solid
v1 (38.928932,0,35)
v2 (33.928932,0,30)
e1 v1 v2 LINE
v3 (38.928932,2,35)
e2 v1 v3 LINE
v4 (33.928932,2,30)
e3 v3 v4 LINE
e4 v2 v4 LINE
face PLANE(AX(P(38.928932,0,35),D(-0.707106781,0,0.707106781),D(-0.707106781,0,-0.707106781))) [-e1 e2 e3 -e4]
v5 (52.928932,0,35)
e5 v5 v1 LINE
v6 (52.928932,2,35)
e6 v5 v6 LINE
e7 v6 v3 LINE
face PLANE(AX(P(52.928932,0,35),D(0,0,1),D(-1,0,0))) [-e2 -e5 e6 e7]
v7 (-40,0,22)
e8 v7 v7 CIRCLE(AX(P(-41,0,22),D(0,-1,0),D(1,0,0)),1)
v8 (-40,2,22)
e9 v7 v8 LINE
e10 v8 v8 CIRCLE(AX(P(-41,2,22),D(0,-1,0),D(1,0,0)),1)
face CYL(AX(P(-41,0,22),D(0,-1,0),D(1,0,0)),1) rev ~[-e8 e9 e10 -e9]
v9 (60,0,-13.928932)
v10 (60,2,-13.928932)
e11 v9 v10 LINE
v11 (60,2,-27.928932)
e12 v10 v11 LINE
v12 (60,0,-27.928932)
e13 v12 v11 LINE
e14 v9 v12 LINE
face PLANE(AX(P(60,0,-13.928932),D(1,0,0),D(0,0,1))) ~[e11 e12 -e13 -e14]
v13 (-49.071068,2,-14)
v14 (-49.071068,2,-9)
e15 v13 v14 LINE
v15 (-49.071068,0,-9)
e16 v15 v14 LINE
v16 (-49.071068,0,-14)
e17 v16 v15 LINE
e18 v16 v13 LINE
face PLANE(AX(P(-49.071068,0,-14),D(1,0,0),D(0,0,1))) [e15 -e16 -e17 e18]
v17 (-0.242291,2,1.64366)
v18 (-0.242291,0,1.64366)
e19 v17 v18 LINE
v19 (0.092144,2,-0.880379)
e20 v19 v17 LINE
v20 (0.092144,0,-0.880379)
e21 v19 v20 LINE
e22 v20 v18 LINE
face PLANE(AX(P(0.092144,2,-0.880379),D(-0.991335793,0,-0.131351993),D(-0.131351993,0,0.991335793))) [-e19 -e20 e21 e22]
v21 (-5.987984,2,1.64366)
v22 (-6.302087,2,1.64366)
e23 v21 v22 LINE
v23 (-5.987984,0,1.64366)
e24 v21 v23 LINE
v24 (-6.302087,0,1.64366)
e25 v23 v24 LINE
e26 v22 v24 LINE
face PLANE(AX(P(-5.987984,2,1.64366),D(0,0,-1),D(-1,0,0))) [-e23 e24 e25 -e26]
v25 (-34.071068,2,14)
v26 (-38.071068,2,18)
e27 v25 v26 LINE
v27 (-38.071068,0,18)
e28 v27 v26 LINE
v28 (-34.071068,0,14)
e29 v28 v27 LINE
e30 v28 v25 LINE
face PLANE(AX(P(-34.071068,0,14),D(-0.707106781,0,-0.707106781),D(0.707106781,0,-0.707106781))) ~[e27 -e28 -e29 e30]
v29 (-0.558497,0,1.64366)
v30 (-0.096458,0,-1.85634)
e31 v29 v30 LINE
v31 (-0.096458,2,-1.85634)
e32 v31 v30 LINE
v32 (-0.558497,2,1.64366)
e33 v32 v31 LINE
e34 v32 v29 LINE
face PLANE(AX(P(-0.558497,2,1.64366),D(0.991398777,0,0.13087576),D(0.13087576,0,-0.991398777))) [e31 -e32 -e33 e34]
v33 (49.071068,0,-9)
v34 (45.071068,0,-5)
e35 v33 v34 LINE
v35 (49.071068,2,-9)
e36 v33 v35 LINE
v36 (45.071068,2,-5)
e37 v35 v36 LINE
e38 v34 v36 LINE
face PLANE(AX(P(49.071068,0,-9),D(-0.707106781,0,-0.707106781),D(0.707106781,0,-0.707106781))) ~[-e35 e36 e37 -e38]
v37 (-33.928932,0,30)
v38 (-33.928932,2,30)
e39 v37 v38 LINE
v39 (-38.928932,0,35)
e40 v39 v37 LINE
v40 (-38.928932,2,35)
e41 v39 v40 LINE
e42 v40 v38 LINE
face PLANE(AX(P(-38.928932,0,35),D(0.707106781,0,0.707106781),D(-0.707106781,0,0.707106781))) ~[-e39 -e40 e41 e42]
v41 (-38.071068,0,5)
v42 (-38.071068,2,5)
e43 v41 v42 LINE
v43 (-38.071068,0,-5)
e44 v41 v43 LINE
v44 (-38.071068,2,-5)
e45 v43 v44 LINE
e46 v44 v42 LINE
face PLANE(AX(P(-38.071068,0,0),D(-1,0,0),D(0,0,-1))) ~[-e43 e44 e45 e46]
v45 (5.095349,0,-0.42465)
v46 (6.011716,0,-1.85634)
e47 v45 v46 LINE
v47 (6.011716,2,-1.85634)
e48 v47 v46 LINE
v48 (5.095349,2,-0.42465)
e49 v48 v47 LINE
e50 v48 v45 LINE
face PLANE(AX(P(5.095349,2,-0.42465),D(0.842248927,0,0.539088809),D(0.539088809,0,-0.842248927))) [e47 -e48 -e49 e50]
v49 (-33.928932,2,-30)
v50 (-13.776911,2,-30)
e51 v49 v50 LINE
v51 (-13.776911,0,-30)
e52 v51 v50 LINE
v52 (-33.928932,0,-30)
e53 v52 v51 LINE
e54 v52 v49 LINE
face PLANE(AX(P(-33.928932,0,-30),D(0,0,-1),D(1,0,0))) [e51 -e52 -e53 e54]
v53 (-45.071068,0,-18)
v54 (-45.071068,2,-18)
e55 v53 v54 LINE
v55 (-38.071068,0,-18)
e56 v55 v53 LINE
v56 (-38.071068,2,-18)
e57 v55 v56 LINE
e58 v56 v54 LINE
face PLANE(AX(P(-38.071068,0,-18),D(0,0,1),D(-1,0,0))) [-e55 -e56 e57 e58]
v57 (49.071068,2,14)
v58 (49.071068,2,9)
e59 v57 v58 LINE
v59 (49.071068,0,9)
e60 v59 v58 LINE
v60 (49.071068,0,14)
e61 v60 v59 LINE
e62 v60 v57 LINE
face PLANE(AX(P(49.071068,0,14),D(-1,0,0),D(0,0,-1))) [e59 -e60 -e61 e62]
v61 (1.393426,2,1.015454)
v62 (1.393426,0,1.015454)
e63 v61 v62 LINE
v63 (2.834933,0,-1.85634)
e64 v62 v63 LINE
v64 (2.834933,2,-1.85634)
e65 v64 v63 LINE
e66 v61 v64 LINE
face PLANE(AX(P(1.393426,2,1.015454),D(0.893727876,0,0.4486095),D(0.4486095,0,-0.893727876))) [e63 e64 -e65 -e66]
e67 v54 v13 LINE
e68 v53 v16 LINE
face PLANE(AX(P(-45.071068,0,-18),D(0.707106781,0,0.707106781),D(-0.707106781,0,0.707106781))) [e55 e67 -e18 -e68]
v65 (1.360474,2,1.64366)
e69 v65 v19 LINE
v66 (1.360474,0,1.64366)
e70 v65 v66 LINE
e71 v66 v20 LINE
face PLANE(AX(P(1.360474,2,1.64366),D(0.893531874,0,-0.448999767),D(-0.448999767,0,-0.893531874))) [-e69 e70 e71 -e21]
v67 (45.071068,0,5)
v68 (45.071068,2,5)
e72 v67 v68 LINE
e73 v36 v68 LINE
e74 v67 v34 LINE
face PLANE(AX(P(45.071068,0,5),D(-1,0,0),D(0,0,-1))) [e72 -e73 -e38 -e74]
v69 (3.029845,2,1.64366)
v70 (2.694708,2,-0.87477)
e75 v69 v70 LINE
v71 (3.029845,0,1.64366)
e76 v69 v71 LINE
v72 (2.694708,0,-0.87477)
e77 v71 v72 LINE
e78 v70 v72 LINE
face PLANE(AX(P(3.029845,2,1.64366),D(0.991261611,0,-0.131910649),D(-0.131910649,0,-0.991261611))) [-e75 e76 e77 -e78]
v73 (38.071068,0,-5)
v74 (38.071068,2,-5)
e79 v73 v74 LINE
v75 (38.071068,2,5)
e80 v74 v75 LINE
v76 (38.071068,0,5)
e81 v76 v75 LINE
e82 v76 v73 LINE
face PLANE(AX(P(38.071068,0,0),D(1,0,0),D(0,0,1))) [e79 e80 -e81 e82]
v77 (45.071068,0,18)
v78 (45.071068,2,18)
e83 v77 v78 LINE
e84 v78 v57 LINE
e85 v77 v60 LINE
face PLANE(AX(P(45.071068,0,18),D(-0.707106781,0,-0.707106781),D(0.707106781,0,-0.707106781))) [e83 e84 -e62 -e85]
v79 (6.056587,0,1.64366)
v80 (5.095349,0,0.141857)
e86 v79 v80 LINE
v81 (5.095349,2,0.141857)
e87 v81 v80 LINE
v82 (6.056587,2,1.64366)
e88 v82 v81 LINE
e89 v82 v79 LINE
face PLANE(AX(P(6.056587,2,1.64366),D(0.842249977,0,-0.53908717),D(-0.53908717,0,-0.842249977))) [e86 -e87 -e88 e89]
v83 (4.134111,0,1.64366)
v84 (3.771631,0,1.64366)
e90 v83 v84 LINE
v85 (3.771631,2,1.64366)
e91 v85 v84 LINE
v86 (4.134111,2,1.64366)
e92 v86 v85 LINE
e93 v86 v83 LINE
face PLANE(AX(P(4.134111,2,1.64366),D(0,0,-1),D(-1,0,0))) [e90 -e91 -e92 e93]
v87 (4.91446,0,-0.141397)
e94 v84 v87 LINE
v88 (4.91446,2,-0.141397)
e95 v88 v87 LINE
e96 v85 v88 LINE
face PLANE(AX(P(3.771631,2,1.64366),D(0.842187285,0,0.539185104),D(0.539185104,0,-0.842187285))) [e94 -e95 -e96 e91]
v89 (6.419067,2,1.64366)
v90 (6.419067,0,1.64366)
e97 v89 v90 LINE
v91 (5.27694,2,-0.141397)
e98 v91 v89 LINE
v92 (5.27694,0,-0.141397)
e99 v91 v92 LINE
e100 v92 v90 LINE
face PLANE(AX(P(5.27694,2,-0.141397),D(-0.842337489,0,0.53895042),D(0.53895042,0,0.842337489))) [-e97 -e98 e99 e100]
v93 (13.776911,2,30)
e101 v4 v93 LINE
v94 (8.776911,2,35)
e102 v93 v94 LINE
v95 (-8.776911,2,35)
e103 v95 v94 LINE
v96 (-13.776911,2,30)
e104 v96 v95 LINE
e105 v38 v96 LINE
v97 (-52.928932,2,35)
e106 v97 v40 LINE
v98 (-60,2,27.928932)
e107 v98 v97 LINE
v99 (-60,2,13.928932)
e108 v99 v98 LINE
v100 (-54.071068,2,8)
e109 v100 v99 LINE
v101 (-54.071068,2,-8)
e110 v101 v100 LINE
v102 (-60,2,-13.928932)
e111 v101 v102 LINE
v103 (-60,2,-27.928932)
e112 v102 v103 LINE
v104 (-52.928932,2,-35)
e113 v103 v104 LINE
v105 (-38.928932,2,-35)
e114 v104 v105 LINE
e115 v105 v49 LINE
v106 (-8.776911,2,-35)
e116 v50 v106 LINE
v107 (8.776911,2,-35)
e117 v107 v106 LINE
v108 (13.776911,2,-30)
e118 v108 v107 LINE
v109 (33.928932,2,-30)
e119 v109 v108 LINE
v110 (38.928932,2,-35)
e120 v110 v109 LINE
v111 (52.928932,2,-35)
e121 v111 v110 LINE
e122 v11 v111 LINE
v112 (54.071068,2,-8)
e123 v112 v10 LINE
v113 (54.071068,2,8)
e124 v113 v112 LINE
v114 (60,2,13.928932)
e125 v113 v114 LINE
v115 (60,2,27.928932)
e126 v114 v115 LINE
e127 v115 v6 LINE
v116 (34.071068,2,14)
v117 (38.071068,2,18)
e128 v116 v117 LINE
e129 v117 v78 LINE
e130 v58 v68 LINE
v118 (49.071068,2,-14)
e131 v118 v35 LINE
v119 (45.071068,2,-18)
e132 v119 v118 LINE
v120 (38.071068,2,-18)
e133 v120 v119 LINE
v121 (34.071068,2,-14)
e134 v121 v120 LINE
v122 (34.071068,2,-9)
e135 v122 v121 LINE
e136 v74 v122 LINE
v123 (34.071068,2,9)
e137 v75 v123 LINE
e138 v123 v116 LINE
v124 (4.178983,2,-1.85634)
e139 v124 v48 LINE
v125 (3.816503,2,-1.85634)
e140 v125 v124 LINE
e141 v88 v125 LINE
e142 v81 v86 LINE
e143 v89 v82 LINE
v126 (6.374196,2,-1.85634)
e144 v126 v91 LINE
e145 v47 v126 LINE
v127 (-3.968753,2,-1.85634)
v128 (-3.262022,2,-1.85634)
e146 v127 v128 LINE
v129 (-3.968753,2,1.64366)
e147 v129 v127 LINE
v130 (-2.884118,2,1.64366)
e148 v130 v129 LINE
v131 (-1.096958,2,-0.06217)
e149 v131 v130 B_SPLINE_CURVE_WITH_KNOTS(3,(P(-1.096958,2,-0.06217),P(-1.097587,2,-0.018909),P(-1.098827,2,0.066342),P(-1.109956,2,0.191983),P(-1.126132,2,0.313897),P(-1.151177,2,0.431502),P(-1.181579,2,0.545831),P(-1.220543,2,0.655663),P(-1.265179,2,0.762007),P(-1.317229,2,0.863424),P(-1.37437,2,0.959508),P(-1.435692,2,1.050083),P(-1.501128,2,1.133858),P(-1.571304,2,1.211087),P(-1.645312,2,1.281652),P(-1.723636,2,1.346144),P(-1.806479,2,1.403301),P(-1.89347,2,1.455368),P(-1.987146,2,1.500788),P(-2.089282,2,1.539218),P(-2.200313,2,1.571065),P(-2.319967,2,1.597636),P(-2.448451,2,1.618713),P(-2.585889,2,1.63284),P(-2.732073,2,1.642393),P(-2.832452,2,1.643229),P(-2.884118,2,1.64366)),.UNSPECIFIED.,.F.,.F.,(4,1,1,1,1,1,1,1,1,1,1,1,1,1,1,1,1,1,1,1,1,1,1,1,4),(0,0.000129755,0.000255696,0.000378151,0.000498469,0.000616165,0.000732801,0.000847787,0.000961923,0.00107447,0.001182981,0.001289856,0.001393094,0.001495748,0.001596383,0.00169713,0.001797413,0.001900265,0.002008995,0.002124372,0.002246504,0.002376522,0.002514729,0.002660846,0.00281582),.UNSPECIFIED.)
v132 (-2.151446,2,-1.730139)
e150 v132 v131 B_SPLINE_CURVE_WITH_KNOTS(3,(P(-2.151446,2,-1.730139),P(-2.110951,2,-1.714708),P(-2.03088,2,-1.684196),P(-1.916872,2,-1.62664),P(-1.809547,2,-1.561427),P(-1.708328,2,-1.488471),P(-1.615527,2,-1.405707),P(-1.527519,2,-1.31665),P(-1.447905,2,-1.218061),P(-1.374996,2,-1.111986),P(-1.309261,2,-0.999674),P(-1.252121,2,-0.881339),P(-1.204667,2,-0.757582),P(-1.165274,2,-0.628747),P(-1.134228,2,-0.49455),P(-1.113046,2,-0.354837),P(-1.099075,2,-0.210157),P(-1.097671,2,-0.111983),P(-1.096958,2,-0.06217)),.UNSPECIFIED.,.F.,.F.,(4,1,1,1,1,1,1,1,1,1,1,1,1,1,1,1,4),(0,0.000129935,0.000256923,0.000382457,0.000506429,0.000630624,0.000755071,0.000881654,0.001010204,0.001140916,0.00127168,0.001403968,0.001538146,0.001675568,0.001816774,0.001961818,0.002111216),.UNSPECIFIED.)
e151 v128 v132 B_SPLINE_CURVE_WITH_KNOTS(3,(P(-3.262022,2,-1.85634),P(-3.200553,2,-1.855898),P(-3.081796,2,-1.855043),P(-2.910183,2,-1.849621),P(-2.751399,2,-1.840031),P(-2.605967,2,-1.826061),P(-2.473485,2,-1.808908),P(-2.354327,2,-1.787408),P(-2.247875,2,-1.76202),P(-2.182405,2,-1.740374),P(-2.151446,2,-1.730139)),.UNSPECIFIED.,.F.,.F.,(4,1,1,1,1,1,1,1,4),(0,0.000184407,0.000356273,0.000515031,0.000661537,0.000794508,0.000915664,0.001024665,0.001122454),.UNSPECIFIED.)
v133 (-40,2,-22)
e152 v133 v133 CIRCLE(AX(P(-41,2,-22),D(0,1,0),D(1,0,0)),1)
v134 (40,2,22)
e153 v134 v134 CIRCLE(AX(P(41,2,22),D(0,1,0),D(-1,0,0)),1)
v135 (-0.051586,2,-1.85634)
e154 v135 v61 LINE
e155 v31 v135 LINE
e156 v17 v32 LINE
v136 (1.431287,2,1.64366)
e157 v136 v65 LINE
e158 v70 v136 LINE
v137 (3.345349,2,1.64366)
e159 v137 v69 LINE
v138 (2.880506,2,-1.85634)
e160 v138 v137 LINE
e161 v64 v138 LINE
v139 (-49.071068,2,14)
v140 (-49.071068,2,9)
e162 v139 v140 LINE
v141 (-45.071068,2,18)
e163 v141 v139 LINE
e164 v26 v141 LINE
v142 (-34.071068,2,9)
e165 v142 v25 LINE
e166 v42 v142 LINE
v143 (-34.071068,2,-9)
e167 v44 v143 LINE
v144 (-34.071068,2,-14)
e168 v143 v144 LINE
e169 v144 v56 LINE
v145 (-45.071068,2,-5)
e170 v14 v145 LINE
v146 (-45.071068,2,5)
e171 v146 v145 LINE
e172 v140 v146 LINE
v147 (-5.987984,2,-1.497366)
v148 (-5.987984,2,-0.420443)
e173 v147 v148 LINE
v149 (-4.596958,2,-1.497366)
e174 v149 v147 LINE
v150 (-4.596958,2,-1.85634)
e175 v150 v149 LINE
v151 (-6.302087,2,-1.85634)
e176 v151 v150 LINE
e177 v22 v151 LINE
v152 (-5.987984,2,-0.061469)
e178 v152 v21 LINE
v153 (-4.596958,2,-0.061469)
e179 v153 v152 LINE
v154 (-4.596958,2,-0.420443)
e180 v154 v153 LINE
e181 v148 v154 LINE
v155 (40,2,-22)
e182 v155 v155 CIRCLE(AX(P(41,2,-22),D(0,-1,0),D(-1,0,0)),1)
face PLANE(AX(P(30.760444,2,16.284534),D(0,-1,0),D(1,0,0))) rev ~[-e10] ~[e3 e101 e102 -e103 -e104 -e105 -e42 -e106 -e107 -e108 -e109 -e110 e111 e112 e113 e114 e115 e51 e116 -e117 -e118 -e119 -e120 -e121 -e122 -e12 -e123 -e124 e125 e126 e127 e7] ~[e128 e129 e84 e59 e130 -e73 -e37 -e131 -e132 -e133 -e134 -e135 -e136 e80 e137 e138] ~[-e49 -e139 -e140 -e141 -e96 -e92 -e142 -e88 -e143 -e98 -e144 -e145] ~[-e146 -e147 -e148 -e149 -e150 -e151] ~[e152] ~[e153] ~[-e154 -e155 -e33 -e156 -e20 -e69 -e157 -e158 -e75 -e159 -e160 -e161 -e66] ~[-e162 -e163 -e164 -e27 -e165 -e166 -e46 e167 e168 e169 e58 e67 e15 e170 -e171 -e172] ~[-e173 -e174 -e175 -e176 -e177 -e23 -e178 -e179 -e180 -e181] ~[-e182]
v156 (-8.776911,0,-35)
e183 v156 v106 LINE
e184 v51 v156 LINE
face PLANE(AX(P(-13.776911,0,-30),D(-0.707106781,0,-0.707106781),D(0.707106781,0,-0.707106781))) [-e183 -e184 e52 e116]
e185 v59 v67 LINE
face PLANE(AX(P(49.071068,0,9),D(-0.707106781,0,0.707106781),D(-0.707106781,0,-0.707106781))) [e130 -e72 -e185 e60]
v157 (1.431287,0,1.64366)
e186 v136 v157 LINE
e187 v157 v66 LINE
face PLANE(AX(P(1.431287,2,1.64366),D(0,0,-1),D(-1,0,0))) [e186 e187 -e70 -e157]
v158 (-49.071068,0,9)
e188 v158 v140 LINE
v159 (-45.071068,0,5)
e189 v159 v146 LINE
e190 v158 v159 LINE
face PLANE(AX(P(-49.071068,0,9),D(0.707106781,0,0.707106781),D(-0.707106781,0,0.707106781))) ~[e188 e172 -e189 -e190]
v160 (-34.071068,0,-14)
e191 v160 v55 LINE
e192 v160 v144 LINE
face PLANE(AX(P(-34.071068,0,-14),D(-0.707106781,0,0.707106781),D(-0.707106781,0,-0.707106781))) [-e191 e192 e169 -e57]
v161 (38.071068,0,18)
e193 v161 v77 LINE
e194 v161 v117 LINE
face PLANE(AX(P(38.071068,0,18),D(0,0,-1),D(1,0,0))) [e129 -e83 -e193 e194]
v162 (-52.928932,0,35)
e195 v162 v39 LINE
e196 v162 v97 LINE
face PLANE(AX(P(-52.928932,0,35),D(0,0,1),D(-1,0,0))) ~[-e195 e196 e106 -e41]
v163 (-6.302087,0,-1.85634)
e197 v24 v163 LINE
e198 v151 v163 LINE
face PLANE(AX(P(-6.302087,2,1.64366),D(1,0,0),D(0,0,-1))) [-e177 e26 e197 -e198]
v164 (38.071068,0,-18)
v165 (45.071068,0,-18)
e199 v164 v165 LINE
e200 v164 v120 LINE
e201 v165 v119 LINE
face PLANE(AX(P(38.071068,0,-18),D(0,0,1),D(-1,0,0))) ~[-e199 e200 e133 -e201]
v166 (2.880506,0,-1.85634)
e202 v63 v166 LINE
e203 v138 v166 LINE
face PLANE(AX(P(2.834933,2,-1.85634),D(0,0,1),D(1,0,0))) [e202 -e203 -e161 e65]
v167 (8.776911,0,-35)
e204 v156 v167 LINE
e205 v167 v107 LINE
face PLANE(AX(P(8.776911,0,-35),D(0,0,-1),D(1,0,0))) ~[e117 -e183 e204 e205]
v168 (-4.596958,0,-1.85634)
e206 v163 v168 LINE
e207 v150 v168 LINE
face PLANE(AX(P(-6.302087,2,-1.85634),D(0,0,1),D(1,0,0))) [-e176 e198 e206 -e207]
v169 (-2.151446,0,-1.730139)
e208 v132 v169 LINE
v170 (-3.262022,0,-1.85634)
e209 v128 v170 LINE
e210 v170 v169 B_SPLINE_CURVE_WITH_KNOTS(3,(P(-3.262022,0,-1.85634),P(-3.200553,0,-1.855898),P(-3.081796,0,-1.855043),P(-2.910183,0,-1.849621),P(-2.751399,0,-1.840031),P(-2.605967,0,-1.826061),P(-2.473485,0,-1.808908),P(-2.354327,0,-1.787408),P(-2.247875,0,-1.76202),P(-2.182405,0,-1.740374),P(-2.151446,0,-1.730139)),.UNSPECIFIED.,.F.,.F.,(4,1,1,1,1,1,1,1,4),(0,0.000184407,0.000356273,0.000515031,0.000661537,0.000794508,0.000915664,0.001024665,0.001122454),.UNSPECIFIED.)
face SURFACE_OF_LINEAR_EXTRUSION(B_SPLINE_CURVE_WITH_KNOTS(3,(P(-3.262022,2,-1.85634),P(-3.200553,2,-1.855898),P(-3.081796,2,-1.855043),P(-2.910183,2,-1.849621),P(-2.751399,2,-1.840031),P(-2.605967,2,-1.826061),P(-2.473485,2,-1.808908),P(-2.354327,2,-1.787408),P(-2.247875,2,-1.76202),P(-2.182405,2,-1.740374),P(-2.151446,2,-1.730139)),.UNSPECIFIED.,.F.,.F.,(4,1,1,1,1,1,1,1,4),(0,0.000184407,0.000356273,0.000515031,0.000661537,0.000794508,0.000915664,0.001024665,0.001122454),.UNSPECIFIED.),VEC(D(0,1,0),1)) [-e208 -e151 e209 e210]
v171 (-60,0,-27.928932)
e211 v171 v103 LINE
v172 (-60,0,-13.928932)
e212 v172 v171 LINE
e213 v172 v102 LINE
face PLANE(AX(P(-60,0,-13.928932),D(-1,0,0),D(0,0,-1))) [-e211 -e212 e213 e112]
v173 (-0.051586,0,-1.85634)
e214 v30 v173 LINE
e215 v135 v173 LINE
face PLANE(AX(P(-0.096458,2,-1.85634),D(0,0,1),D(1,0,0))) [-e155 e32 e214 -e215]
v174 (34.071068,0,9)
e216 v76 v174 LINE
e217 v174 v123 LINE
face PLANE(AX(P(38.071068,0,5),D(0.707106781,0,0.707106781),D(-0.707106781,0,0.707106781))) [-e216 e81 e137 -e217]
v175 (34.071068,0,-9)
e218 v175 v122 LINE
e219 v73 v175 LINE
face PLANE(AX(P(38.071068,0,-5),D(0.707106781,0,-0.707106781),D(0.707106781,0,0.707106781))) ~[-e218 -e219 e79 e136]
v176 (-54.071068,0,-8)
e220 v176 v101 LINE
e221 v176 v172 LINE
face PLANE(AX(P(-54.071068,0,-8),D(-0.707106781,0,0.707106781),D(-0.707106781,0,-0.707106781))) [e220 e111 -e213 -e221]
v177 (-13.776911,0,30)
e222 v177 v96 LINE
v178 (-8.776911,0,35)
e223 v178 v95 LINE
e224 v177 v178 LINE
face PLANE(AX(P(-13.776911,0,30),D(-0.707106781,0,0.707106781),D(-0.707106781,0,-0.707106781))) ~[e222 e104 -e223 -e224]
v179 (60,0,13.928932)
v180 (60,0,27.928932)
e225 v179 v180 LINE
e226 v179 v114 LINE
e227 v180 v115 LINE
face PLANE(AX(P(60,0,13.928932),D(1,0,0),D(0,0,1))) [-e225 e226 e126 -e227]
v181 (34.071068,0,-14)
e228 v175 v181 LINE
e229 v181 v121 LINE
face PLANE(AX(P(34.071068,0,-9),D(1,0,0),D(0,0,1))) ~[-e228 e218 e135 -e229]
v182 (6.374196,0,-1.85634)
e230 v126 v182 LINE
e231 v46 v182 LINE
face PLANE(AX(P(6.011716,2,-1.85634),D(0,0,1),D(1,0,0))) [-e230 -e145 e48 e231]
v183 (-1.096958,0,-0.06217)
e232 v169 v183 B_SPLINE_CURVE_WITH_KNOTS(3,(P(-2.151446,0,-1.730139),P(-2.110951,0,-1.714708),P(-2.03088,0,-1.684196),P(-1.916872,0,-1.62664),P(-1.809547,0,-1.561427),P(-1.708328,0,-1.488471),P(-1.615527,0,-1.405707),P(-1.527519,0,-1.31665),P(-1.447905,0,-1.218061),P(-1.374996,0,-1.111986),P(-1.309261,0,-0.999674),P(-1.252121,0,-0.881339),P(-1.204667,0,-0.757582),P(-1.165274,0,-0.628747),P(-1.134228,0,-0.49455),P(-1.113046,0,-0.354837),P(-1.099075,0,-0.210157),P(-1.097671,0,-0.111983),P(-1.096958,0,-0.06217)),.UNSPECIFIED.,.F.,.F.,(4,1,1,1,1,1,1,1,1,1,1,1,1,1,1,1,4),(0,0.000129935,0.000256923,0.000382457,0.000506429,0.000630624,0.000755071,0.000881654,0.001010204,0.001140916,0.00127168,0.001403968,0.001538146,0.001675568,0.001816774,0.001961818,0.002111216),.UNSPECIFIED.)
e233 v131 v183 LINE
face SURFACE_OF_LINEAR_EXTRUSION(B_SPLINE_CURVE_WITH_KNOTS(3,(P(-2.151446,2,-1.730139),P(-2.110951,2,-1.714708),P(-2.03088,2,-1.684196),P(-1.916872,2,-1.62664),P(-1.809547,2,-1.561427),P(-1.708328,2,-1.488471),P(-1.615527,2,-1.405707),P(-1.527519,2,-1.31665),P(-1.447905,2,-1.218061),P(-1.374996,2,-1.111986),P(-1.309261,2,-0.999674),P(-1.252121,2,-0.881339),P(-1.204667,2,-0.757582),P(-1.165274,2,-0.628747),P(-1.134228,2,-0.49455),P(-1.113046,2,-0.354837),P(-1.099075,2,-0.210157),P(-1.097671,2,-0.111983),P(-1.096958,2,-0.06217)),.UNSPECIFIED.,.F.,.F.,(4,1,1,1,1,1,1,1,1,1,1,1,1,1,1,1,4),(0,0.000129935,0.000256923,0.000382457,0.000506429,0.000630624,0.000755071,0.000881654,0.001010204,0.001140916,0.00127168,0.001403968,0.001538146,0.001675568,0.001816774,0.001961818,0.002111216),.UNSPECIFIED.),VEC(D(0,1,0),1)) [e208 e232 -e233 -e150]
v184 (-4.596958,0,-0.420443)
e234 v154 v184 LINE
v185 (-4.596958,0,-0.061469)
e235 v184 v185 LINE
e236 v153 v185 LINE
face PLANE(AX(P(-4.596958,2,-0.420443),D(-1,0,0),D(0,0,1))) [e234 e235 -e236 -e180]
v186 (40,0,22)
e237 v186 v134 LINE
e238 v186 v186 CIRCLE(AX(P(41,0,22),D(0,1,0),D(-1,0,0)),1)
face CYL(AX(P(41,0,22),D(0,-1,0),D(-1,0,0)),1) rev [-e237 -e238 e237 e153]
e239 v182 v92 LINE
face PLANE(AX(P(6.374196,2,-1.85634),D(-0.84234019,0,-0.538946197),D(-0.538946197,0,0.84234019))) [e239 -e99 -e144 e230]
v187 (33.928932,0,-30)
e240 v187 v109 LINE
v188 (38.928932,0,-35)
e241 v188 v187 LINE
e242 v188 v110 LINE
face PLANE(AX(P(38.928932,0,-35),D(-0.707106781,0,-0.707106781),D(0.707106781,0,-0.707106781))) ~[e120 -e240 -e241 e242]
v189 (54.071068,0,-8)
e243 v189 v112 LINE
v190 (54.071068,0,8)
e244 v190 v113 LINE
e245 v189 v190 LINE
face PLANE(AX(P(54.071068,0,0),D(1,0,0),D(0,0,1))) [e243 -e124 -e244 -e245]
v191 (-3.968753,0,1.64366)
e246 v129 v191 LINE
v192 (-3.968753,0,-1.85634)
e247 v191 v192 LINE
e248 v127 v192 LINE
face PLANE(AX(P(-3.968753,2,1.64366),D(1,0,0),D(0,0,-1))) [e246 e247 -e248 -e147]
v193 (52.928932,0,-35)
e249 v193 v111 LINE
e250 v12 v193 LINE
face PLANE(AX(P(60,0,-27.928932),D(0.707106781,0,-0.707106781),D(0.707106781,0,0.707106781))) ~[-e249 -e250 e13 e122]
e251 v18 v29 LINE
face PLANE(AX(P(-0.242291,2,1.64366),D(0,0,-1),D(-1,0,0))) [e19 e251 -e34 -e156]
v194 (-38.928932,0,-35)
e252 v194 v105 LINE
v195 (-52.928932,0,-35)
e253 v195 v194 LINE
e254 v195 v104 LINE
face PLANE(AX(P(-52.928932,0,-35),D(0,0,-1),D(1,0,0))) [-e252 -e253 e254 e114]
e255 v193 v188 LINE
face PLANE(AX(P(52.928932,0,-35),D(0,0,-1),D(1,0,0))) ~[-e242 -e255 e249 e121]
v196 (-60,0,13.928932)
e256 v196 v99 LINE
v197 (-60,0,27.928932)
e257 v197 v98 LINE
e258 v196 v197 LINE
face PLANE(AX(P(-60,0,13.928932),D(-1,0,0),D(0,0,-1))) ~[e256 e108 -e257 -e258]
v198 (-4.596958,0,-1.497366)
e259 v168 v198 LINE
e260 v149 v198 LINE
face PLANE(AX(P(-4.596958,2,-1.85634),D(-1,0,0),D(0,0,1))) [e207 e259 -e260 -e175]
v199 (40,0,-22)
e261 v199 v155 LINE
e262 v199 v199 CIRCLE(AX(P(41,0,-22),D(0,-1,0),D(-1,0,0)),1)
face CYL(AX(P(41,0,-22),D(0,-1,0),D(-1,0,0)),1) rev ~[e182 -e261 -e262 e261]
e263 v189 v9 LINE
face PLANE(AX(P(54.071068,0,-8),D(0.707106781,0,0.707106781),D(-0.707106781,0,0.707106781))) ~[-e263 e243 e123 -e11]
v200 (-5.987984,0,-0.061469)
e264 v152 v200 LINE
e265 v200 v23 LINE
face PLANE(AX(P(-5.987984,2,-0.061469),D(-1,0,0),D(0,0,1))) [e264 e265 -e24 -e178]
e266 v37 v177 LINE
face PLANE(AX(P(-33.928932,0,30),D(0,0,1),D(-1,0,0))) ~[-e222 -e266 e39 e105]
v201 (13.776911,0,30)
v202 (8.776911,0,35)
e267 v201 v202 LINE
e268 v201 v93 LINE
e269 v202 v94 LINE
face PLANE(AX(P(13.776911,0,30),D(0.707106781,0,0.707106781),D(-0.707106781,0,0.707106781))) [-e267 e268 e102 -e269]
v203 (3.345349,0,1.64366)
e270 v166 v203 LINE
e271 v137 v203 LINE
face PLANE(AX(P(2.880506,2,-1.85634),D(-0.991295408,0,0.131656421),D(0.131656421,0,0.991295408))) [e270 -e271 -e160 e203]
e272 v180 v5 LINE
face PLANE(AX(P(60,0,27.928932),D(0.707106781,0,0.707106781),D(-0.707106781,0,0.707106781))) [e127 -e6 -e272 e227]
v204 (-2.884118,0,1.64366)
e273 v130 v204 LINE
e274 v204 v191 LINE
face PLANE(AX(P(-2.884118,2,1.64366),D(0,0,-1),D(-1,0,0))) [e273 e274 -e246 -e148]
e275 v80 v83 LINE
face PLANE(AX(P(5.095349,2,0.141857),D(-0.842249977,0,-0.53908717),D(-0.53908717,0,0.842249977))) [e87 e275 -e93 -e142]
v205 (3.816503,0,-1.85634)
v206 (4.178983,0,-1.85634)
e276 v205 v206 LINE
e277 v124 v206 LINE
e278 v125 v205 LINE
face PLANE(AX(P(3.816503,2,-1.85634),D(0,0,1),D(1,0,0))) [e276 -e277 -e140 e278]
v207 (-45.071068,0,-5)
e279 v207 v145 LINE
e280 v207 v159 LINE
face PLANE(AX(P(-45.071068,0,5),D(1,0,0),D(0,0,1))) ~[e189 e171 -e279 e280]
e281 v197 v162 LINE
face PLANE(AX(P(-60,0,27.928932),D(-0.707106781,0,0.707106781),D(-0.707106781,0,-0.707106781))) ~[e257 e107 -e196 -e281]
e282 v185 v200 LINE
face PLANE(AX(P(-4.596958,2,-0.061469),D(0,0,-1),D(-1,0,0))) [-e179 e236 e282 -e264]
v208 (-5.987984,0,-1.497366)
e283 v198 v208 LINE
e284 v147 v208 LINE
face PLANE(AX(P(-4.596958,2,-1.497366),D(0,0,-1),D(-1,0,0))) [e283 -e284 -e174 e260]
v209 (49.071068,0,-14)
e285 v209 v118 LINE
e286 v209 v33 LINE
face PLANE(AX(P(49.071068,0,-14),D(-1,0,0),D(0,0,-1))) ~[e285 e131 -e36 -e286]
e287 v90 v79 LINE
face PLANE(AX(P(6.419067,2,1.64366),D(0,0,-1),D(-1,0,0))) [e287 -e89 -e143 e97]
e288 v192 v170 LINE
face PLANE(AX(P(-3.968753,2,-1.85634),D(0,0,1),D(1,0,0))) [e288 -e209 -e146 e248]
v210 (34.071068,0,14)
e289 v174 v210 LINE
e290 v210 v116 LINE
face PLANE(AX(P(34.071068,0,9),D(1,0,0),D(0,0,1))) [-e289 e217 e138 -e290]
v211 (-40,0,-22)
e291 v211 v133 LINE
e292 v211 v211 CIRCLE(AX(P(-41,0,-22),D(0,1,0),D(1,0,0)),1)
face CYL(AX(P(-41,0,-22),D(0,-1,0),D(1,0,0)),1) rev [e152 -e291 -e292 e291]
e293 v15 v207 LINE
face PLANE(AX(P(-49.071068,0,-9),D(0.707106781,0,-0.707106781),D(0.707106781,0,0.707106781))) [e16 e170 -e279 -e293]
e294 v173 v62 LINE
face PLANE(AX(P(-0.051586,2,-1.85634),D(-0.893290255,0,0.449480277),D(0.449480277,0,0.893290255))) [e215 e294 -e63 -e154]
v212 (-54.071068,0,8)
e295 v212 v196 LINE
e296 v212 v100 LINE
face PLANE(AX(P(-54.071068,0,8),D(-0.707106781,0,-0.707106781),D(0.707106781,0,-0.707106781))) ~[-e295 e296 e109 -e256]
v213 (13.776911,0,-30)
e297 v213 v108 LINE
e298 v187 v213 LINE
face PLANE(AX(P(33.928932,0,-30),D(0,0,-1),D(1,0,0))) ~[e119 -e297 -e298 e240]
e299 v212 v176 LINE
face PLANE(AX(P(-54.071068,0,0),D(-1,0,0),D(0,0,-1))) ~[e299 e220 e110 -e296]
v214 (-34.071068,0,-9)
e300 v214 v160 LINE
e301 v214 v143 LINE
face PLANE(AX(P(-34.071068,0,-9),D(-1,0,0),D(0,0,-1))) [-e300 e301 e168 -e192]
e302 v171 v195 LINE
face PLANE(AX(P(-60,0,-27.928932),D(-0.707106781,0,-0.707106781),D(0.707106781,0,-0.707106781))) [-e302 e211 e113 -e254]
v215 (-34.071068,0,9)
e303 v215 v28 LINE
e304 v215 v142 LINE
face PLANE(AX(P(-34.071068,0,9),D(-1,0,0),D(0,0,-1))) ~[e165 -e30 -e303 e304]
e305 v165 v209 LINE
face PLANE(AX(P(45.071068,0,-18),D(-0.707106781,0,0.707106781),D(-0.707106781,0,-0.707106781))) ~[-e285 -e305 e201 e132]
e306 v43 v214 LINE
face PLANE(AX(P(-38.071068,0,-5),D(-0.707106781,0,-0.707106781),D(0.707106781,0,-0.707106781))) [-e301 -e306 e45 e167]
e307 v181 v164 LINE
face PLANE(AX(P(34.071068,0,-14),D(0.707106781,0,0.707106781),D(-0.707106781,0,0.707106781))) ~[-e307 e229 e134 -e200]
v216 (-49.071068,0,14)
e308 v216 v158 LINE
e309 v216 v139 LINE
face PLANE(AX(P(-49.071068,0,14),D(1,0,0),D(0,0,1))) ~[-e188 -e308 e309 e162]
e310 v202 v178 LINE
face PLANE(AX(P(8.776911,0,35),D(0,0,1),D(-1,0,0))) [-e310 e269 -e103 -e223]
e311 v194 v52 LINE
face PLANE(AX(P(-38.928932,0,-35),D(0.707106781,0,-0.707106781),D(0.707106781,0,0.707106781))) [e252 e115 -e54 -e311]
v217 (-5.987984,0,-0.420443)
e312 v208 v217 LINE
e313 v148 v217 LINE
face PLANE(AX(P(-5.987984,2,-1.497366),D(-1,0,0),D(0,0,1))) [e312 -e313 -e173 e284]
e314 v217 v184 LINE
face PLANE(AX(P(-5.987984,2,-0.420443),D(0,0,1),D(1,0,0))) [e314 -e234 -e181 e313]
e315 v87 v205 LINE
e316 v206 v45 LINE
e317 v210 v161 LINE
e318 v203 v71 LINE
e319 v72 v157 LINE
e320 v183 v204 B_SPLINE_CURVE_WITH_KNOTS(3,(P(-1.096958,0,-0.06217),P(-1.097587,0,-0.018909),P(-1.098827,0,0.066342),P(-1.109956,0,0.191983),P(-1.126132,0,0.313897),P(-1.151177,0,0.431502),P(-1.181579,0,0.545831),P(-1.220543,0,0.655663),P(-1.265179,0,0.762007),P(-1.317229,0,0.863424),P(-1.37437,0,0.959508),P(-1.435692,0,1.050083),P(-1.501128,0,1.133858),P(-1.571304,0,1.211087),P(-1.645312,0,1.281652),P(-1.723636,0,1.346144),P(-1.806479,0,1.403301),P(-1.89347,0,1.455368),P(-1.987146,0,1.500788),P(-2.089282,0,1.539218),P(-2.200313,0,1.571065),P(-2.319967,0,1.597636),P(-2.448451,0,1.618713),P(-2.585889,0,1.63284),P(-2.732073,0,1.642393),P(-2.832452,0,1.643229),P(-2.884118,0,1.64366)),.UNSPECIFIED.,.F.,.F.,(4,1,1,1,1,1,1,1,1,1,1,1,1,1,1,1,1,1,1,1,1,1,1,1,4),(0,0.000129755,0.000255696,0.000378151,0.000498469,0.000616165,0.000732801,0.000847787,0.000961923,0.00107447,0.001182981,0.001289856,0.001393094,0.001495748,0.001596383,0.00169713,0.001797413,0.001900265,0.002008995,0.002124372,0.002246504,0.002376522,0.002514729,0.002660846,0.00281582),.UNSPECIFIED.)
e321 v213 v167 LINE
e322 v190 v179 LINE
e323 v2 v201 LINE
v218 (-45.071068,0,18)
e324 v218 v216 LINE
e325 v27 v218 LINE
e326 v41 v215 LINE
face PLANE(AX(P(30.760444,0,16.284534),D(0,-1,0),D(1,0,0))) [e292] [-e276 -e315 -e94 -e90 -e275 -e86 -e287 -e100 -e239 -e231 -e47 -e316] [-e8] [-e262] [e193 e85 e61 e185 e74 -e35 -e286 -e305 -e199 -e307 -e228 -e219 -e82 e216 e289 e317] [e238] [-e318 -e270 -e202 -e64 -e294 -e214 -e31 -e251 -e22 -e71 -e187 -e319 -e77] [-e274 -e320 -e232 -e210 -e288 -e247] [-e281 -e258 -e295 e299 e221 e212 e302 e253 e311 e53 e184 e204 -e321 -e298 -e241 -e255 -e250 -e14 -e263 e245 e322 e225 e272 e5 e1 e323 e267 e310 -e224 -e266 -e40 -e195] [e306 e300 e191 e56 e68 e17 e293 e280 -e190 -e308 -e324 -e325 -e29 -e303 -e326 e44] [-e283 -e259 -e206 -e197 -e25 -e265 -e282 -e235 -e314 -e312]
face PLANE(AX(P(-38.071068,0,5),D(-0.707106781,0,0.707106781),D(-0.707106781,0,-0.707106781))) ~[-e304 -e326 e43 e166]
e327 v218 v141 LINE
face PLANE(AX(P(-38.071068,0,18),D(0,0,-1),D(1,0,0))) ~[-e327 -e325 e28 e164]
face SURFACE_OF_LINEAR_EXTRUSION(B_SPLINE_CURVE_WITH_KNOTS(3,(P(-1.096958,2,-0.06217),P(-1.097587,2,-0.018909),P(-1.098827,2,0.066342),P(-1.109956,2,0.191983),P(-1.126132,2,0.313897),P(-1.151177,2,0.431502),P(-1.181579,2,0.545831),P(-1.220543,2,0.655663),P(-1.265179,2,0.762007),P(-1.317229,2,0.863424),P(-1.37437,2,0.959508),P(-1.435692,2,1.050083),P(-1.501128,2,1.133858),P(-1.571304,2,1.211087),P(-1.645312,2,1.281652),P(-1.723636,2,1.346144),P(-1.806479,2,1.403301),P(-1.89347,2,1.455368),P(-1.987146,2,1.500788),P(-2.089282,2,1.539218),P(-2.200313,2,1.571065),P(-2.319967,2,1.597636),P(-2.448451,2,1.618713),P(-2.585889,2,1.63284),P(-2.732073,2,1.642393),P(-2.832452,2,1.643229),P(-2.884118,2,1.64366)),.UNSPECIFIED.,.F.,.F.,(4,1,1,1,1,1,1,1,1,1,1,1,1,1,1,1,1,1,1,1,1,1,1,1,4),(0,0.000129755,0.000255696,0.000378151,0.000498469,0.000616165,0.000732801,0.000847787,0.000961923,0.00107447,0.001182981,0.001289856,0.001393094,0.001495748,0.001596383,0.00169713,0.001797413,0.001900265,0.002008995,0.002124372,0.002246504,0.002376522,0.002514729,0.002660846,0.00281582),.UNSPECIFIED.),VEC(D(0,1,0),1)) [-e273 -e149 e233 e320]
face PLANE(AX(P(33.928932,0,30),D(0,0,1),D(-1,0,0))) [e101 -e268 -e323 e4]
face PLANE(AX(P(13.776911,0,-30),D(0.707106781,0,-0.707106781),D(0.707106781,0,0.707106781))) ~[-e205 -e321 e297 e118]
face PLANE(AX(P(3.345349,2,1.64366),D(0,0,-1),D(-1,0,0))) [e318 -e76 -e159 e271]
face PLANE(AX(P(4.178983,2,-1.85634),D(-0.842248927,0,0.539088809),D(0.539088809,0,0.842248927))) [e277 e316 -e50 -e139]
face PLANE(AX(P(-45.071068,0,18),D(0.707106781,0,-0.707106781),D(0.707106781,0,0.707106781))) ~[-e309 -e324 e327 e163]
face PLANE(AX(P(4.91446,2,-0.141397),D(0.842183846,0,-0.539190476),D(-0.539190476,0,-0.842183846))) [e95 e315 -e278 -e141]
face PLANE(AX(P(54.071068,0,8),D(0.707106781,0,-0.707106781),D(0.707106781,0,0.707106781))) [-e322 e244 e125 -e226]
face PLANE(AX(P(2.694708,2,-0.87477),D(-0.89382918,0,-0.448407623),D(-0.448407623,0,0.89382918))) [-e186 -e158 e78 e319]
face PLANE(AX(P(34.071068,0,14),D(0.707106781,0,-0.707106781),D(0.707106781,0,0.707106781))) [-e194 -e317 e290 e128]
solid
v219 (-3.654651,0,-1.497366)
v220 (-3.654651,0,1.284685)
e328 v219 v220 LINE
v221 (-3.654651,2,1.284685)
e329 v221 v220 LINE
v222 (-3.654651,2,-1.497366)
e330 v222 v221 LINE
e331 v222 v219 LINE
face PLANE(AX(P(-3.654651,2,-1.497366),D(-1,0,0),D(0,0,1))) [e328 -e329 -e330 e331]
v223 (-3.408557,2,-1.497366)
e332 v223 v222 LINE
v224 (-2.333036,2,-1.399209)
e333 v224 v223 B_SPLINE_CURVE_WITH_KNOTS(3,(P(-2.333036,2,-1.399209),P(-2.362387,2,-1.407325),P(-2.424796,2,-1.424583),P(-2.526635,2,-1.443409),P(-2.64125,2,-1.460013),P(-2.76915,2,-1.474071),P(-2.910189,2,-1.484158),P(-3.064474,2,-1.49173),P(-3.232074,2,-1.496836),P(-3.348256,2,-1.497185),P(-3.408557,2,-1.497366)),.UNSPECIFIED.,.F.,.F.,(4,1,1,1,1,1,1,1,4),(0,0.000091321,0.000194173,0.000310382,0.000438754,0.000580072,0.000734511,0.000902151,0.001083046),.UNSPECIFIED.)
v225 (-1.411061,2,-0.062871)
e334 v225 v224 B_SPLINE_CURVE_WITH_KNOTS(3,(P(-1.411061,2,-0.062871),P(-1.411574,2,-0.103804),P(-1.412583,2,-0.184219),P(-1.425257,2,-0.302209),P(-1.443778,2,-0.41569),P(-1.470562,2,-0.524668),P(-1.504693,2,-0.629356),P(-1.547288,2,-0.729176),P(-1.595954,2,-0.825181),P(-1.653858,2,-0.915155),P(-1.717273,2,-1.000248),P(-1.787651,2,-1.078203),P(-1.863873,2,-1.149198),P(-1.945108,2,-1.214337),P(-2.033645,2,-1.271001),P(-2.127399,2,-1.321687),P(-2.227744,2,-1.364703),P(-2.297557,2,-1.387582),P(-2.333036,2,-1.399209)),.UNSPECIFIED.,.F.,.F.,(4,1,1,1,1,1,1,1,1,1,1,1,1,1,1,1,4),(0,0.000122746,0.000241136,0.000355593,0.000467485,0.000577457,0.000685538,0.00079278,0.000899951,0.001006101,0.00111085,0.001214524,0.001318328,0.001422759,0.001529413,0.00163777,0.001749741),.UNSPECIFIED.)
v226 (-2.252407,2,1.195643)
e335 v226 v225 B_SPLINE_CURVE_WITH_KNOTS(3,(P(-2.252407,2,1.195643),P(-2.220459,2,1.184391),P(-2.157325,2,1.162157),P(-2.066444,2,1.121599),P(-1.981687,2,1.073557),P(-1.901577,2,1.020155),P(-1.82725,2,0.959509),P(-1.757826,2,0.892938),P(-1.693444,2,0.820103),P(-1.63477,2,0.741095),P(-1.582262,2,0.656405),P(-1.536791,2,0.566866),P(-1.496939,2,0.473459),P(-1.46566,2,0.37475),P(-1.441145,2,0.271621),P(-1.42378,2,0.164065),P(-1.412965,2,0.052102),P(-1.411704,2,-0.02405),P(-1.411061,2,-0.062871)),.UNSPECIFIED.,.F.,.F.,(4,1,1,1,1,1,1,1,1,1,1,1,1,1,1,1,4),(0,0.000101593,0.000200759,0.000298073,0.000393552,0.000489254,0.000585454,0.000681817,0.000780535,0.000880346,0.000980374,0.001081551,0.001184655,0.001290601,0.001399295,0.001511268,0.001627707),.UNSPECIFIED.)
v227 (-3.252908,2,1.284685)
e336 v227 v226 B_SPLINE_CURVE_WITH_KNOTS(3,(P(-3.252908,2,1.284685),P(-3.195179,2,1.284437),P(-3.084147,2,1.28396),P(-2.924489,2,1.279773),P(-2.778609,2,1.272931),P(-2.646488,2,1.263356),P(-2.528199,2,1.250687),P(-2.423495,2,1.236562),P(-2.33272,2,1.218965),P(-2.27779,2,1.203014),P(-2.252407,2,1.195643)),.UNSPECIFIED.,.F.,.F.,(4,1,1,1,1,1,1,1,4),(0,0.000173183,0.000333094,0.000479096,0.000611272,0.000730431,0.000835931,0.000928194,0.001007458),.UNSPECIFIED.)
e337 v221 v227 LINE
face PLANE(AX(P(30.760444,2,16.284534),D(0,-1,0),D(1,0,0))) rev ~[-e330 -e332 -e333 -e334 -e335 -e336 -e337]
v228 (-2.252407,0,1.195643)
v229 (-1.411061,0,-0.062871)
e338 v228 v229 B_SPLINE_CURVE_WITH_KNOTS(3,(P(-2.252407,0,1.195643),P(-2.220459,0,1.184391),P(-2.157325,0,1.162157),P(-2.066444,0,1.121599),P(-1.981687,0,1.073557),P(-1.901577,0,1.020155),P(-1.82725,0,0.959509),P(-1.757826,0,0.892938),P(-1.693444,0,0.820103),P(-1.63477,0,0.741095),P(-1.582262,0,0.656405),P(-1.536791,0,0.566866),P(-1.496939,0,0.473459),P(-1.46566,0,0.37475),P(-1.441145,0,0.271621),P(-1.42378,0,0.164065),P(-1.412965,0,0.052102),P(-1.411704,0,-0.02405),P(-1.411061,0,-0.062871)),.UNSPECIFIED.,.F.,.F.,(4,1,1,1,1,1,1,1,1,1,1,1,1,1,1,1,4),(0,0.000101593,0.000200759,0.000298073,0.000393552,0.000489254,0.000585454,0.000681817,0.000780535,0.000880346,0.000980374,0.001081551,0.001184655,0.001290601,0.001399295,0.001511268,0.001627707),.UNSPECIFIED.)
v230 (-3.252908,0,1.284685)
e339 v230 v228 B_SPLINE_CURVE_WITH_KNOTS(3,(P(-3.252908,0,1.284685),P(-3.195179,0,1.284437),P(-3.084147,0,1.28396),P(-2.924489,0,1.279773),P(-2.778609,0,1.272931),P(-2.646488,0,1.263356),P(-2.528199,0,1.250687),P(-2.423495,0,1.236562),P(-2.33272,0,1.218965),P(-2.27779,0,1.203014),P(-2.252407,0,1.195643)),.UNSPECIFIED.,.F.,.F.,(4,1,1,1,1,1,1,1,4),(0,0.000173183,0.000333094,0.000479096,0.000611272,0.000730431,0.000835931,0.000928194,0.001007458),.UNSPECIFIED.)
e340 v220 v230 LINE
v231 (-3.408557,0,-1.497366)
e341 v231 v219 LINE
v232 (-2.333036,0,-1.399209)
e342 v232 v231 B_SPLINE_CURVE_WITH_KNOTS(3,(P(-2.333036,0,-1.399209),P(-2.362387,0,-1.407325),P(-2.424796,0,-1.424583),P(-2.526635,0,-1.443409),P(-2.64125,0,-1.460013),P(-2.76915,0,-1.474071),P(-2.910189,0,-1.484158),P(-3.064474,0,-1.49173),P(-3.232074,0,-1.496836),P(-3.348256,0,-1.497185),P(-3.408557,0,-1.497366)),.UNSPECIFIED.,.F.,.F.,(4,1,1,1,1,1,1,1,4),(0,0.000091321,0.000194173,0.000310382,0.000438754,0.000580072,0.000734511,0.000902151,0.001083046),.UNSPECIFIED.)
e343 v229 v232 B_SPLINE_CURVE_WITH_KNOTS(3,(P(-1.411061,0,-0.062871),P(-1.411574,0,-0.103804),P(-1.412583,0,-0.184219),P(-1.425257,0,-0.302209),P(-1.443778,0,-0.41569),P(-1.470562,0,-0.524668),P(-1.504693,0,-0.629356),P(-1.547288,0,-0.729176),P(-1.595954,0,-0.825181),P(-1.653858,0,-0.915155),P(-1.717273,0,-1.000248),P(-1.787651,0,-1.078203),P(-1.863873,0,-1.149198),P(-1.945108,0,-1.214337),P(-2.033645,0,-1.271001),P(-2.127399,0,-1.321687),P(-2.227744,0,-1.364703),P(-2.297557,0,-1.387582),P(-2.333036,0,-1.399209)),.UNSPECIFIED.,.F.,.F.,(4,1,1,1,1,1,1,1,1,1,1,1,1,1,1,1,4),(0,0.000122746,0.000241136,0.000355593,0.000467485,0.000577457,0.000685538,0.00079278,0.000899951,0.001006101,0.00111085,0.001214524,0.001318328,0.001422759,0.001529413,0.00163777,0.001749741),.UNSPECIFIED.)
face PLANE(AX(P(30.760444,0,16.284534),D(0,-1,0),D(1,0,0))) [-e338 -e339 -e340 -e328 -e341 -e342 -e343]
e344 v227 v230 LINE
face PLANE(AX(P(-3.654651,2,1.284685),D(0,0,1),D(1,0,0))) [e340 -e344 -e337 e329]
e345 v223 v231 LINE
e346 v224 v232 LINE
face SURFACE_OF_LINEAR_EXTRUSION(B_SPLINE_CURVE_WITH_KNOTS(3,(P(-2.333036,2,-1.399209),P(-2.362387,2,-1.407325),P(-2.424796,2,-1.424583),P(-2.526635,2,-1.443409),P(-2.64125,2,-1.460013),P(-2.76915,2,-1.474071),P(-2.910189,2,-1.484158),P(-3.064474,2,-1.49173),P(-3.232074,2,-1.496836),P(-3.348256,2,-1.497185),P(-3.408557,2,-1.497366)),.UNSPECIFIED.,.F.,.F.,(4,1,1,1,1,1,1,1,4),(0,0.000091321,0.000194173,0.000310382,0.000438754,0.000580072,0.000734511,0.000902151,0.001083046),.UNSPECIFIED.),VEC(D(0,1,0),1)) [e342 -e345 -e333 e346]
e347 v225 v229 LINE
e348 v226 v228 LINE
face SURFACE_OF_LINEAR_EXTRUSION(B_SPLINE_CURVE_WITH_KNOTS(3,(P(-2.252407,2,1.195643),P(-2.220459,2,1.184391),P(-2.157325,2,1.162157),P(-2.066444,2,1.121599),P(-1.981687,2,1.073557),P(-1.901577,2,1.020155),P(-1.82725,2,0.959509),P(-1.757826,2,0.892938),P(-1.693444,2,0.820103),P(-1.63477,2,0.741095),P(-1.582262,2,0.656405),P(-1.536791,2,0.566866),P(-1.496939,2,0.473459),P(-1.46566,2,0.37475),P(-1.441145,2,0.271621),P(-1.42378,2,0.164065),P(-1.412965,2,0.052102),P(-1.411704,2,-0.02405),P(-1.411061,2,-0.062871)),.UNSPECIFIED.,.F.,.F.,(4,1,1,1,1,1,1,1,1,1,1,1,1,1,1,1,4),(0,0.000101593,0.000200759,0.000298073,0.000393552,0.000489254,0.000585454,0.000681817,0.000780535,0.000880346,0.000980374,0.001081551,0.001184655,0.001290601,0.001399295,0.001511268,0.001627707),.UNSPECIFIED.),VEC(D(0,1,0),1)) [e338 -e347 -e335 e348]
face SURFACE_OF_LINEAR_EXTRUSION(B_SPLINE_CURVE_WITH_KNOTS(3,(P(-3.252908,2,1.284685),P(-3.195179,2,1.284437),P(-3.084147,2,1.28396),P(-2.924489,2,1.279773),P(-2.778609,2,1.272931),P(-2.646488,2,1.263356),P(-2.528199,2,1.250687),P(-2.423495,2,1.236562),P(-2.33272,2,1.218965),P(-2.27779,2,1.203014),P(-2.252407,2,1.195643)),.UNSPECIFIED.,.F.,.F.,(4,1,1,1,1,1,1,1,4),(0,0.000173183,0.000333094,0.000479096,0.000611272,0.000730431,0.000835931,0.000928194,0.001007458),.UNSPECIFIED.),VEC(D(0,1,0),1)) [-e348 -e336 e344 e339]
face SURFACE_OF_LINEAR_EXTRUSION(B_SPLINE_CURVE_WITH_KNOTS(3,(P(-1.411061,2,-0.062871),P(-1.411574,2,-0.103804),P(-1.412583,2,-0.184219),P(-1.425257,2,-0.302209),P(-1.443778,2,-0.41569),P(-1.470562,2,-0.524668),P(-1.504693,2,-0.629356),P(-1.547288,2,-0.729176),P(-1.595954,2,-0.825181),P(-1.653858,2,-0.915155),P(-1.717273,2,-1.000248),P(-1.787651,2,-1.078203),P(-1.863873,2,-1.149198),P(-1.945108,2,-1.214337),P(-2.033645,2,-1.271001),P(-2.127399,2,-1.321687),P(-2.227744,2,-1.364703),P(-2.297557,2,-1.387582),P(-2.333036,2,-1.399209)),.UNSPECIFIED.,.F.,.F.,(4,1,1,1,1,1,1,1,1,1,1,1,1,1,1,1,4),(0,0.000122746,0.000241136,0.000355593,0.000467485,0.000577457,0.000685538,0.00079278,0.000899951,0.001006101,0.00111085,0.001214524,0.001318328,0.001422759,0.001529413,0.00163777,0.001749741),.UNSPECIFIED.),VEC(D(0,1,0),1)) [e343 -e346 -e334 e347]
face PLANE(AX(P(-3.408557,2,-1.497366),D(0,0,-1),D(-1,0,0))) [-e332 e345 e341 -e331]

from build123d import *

# Parameters (mm, degrees)
SKETCH1_R                                  = 1
BOSS_EXTRUDE1_DEPTH                        = 2
MIRROR1_AT_THE_SECOND_PLANE_COPY_1_SKETC_R = 1
MIRROR1_AT_THE_SECOND_PLANE_COPY_1_DEPTH   = 2
CUT_EXTRUDE2_DEPTH                         = 2


with BuildPart() as part:
    # Sketch1 → Boss-Extrude1 (new body)
    with BuildSketch(Plane(origin=(0, 0, 0), x_dir=(1, 0, 0), z_dir=(0, 1, 0))):
        Polygon((0, 0), (-38.071067812, 0), (-38.071067812, 5), (-34.071067812, 9), (-34.071067812, 14), (-38.071067812, 18), (-45.071067812, 18), (-49.071067812, 14), (-49.071067812, 9), (-45.071067812, 5), (-45.071067812, 0), (-54.071067812, 0), (-54.071067812, 8), (-60, 13.928932188), (-60, 27.928932188), (-52.928932188, 35), (-38.928932188, 35), (-33.928932188, 30), (-13.776910945, 30), (-8.776910945, 35), (0, 35), align=None)
        with Locations((-41, 22)):
            Circle(SKETCH1_R, mode=Mode.SUBTRACT)
    boss_extrude1 = extrude(amount=BOSS_EXTRUDE1_DEPTH)



with BuildPart() as mirror1_1:
    # Mirror1: Boss-Extrude1 across plane
    add(boss_extrude1.mirror(Plane(origin=(0, 0, 0), x_dir=(0, 0, 1), z_dir=(1, 0, 0))))


with BuildPart() as part_1:
    add(part.part)

    add(mirror1_1.part)  # Mirror1 at the second plane merges Mirror1_1
    # Mirror1 at the second plane: Boss-Extrude1 across plane
    add(boss_extrude1.mirror(Plane.XY))

    # Mirror1 at the second plane copy 1 sketc → Mirror1 at the second plane copy 1 (add)
    with BuildSketch(Plane(origin=(0, 0, 0), x_dir=(-1, 0, 0), z_dir=(0, 1, 0))):
        Polygon((0, 0), (-38.071067812, 0), (-38.071067812, 5), (-34.071067812, 9), (-34.071067812, 14), (-38.071067812, 18), (-45.071067812, 18), (-49.071067812, 14), (-49.071067812, 9), (-45.071067812, 5), (-45.071067812, 0), (-54.071067812, 0), (-54.071067812, 8), (-60, 13.928932188), (-60, 27.928932188), (-52.928932188, 35), (-38.928932188, 35), (-33.928932188, 30), (-13.776910945, 30), (-8.776910945, 35), (0, 35), align=None)
        with Locations((-41, 22)):
            Circle(MIRROR1_AT_THE_SECOND_PLANE_COPY_1_SKETC_R, mode=Mode.SUBTRACT)
    extrude(amount=MIRROR1_AT_THE_SECOND_PLANE_COPY_1_DEPTH)

    # Sketch3 → Cut-Extrude2 (cut)
    with BuildSketch(Plane(origin=(0, 2, 0), x_dir=(1, 0, 0), z_dir=(0, 1, 0))):
        Polygon((-6.30208654, 1.856340481), (-4.596958334, 1.856340481), (-4.596958334, 1.497366122), (-5.987983975, 1.497366122), (-5.987983975, 0.420443045), (-4.596958334, 0.420443045), (-4.596958334, 0.061468686), (-5.987983975, 0.061468686), (-5.987983975, -1.643659519), (-6.30208654, -1.643659519), align=None)
        with BuildLine():
            Line((-3.968753206, -1.643659519), (-3.968753206, 1.856340481))
            Line((-3.968753206, 1.856340481), (-3.262022437, 1.856340481))
            add(Edge.make_bspline(
                [(-3.262022437, 1.856340481), (-3.200553449, 1.855897911), (-3.081795683, 1.855042868), (-2.910183236, 1.849621477), (-2.751399474, 1.840031011), (-2.605966614, 1.826061485), (-2.473485402, 1.808908451), (-2.354326794, 1.787408047), (-2.247874651, 1.762019877), (-2.182405211, 1.740374426), (-2.151445514, 1.730138558)],
                knots=[0, 0, 0, 0, 0.000184407, 0.000356273, 0.000515031, 0.000661537, 0.000794508, 0.000915664, 0.001024665, 0.001122454, 0.001122454, 0.001122454, 0.001122454], degree=3))
            add(Edge.make_bspline(
                [(-2.151445514, 1.730138558), (-2.110950775, 1.714707852), (-2.030879582, 1.684196358), (-1.91687246, 1.626640057), (-1.809547097, 1.561426955), (-1.708327952, 1.488471092), (-1.615527125, 1.405706744), (-1.527519229, 1.316649658), (-1.447904505, 1.218061318), (-1.374996209, 1.11198633), (-1.309260549, 0.999674278), (-1.252121392, 0.881339169), (-1.204667398, 0.757581961), (-1.165274172, 0.628746813), (-1.134227714, 0.494550435), (-1.113045782, 0.354836569), (-1.099074793, 0.21015738), (-1.097670741, 0.111982916), (-1.096958334, 0.062169808)],
                knots=[0, 0, 0, 0, 0.000129935, 0.000256923, 0.000382457, 0.000506429, 0.000630624, 0.000755071, 0.000881654, 0.001010204, 0.001140916, 0.00127168, 0.001403968, 0.001538146, 0.001675568, 0.001816774, 0.001961818, 0.002111216, 0.002111216, 0.002111216, 0.002111216], degree=3))
            add(Edge.make_bspline(
                [(-1.096958334, 0.062169808), (-1.097587302, 0.018908569), (-1.098826748, -0.06634222), (-1.109956064, -0.191983115), (-1.126132384, -0.313896687), (-1.151176582, -0.431502387), (-1.181579095, -0.545830604), (-1.220543246, -0.655662849), (-1.265178743, -0.762006658), (-1.317228621, -0.863424134), (-1.374370006, -0.959507506), (-1.435691749, -1.050083035), (-1.501128445, -1.133858256), (-1.571304078, -1.211086868), (-1.645311794, -1.281652447), (-1.723636125, -1.346144462), (-1.806479176, -1.403301017), (-1.893469898, -1.455368125), (-1.987146027, -1.500788481), (-2.089281894, -1.53921849), (-2.200313072, -1.571065106), (-2.319967029, -1.597636002), (-2.448450506, -1.618713304), (-2.585889472, -1.632839697), (-2.732072762, -1.642392629), (-2.832452027, -1.643229023), (-2.88411779, -1.643659519)],
                knots=[0, 0, 0, 0, 0.000129755, 0.000255696, 0.000378151, 0.000498469, 0.000616165, 0.000732801, 0.000847787, 0.000961923, 0.00107447, 0.001182981, 0.001289856, 0.001393094, 0.001495748, 0.001596383, 0.00169713, 0.001797413, 0.001900265, 0.002008995, 0.002124372, 0.002246504, 0.002376522, 0.002514729, 0.002660846, 0.00281582, 0.00281582, 0.00281582, 0.00281582], degree=3))
            Line((-2.88411779, -1.643659519), (-3.968753206, -1.643659519))
        make_face()
        with BuildLine():
            Line((-3.654650642, -1.28468516), (-3.252907854, -1.28468516))
            add(Edge.make_bspline(
                [(-3.252907854, -1.28468516), (-3.195179483, -1.284437064), (-3.084146684, -1.283959884), (-2.924488687, -1.27977268), (-2.778609291, -1.272930743), (-2.646487781, -1.263355665), (-2.528198757, -1.25068705), (-2.423495007, -1.236562147), (-2.332719749, -1.218964696), (-2.277790312, -1.203013737), (-2.252407052, -1.195642692)],
                knots=[0, 0, 0, 0, 0.000173183, 0.000333094, 0.000479096, 0.000611272, 0.000730431, 0.000835931, 0.000928194, 0.001007458, 0.001007458, 0.001007458, 0.001007458], degree=3))
            add(Edge.make_bspline(
                [(-2.252407052, -1.195642692), (-2.22045869, -1.184391134), (-2.157325052, -1.162156761), (-2.066443967, -1.121599099), (-1.981686962, -1.07355703), (-1.901576937, -1.020154756), (-1.827250282, -0.959508754), (-1.757826165, -0.892937765), (-1.693444364, -0.82010299), (-1.634770056, -0.741094828), (-1.582261752, -0.656405033), (-1.536790522, -0.566866199), (-1.496938991, -0.473459389), (-1.465660398, -0.37475023), (-1.441144814, -0.271621172), (-1.423780126, -0.164064958), (-1.412965402, -0.052101677), (-1.411703954, 0.024050448), (-1.411060898, 0.06287093)],
                knots=[0, 0, 0, 0, 0.000101593, 0.000200759, 0.000298073, 0.000393552, 0.000489254, 0.000585454, 0.000681817, 0.000780535, 0.000880346, 0.000980374, 0.001081551, 0.001184655, 0.001290601, 0.001399295, 0.001511268, 0.001627707, 0.001627707, 0.001627707, 0.001627707], degree=3))
            add(Edge.make_bspline(
                [(-1.411060898, 0.06287093), (-1.411574186, 0.10380441), (-1.412582543, 0.184218594), (-1.425256854, 0.30220929), (-1.443778409, 0.41568994), (-1.470562095, 0.524668136), (-1.504692974, 0.629356488), (-1.547287616, 0.729175998), (-1.595954235, 0.825180867), (-1.653857572, 0.915155232), (-1.717273165, 1.000248342), (-1.787651045, 1.078203257), (-1.863873083, 1.149197557), (-1.945107933, 1.21433687), (-2.033645032, 1.271000546), (-2.127398723, 1.321687227), (-2.227744394, 1.364703118), (-2.29755709, 1.387581981), (-2.333036059, 1.399209071)],
                knots=[0, 0, 0, 0, 0.000122746, 0.000241136, 0.000355593, 0.000467485, 0.000577457, 0.000685538, 0.00079278, 0.000899951, 0.001006101, 0.00111085, 0.001214524, 0.001318328, 0.001422759, 0.001529413, 0.00163777, 0.001749741, 0.001749741, 0.001749741, 0.001749741], degree=3))
            add(Edge.make_bspline(
                [(-2.333036059, 1.399209071), (-2.362387205, 1.407325499), (-2.424795795, 1.424583251), (-2.526635259, 1.443408624), (-2.641250409, 1.460013123), (-2.76915011, 1.474071162), (-2.910188569, 1.484158483), (-3.064474257, 1.491729798), (-3.232073862, 1.49683643), (-3.348256395, 1.497185138), (-3.408556892, 1.497366122)],
                knots=[0, 0, 0, 0, 9.1321e-05, 0.000194173, 0.000310382, 0.000438754, 0.000580072, 0.000734511, 0.000902151, 0.001083046, 0.001083046, 0.001083046, 0.001083046], degree=3))
            Line((-3.408556892, 1.497366122), (-3.654650642, 1.497366122))
            Line((-3.654650642, 1.497366122), (-3.654650642, -1.28468516))
        make_face(mode=Mode.SUBTRACT)
        Polygon((-0.558496796, -1.643659519), (-0.096457533, 1.856340481), (-0.051585738, 1.856340481), (1.393426281, -1.015454391), (2.834932691, 1.856340481), (2.880505608, 1.856340481), (3.345349358, -1.643659519), (3.02984455, -1.643659519), (2.694708332, 0.874769968), (1.431286858, -1.643659519), (1.360473557, -1.643659519), (0.09214423, 0.880378942), (-0.242290866, -1.643659519), align=None)
        Polygon((3.816503204, 1.856340481), (4.178983172, 1.856340481), (5.095349358, 0.424649776), (6.011715544, 1.856340481), (6.374195512, 1.856340481), (5.276939903, 0.141396571), (6.419067307, -1.643659519), (6.056587339, -1.643659519), (5.095349358, -0.141856634), (4.134111377, -1.643659519), (3.771631409, -1.643659519), (4.914459935, 0.141396571), align=None)
    extrude(amount=-CUT_EXTRUDE2_DEPTH, mode=Mode.SUBTRACT)


solid = part_1.part
